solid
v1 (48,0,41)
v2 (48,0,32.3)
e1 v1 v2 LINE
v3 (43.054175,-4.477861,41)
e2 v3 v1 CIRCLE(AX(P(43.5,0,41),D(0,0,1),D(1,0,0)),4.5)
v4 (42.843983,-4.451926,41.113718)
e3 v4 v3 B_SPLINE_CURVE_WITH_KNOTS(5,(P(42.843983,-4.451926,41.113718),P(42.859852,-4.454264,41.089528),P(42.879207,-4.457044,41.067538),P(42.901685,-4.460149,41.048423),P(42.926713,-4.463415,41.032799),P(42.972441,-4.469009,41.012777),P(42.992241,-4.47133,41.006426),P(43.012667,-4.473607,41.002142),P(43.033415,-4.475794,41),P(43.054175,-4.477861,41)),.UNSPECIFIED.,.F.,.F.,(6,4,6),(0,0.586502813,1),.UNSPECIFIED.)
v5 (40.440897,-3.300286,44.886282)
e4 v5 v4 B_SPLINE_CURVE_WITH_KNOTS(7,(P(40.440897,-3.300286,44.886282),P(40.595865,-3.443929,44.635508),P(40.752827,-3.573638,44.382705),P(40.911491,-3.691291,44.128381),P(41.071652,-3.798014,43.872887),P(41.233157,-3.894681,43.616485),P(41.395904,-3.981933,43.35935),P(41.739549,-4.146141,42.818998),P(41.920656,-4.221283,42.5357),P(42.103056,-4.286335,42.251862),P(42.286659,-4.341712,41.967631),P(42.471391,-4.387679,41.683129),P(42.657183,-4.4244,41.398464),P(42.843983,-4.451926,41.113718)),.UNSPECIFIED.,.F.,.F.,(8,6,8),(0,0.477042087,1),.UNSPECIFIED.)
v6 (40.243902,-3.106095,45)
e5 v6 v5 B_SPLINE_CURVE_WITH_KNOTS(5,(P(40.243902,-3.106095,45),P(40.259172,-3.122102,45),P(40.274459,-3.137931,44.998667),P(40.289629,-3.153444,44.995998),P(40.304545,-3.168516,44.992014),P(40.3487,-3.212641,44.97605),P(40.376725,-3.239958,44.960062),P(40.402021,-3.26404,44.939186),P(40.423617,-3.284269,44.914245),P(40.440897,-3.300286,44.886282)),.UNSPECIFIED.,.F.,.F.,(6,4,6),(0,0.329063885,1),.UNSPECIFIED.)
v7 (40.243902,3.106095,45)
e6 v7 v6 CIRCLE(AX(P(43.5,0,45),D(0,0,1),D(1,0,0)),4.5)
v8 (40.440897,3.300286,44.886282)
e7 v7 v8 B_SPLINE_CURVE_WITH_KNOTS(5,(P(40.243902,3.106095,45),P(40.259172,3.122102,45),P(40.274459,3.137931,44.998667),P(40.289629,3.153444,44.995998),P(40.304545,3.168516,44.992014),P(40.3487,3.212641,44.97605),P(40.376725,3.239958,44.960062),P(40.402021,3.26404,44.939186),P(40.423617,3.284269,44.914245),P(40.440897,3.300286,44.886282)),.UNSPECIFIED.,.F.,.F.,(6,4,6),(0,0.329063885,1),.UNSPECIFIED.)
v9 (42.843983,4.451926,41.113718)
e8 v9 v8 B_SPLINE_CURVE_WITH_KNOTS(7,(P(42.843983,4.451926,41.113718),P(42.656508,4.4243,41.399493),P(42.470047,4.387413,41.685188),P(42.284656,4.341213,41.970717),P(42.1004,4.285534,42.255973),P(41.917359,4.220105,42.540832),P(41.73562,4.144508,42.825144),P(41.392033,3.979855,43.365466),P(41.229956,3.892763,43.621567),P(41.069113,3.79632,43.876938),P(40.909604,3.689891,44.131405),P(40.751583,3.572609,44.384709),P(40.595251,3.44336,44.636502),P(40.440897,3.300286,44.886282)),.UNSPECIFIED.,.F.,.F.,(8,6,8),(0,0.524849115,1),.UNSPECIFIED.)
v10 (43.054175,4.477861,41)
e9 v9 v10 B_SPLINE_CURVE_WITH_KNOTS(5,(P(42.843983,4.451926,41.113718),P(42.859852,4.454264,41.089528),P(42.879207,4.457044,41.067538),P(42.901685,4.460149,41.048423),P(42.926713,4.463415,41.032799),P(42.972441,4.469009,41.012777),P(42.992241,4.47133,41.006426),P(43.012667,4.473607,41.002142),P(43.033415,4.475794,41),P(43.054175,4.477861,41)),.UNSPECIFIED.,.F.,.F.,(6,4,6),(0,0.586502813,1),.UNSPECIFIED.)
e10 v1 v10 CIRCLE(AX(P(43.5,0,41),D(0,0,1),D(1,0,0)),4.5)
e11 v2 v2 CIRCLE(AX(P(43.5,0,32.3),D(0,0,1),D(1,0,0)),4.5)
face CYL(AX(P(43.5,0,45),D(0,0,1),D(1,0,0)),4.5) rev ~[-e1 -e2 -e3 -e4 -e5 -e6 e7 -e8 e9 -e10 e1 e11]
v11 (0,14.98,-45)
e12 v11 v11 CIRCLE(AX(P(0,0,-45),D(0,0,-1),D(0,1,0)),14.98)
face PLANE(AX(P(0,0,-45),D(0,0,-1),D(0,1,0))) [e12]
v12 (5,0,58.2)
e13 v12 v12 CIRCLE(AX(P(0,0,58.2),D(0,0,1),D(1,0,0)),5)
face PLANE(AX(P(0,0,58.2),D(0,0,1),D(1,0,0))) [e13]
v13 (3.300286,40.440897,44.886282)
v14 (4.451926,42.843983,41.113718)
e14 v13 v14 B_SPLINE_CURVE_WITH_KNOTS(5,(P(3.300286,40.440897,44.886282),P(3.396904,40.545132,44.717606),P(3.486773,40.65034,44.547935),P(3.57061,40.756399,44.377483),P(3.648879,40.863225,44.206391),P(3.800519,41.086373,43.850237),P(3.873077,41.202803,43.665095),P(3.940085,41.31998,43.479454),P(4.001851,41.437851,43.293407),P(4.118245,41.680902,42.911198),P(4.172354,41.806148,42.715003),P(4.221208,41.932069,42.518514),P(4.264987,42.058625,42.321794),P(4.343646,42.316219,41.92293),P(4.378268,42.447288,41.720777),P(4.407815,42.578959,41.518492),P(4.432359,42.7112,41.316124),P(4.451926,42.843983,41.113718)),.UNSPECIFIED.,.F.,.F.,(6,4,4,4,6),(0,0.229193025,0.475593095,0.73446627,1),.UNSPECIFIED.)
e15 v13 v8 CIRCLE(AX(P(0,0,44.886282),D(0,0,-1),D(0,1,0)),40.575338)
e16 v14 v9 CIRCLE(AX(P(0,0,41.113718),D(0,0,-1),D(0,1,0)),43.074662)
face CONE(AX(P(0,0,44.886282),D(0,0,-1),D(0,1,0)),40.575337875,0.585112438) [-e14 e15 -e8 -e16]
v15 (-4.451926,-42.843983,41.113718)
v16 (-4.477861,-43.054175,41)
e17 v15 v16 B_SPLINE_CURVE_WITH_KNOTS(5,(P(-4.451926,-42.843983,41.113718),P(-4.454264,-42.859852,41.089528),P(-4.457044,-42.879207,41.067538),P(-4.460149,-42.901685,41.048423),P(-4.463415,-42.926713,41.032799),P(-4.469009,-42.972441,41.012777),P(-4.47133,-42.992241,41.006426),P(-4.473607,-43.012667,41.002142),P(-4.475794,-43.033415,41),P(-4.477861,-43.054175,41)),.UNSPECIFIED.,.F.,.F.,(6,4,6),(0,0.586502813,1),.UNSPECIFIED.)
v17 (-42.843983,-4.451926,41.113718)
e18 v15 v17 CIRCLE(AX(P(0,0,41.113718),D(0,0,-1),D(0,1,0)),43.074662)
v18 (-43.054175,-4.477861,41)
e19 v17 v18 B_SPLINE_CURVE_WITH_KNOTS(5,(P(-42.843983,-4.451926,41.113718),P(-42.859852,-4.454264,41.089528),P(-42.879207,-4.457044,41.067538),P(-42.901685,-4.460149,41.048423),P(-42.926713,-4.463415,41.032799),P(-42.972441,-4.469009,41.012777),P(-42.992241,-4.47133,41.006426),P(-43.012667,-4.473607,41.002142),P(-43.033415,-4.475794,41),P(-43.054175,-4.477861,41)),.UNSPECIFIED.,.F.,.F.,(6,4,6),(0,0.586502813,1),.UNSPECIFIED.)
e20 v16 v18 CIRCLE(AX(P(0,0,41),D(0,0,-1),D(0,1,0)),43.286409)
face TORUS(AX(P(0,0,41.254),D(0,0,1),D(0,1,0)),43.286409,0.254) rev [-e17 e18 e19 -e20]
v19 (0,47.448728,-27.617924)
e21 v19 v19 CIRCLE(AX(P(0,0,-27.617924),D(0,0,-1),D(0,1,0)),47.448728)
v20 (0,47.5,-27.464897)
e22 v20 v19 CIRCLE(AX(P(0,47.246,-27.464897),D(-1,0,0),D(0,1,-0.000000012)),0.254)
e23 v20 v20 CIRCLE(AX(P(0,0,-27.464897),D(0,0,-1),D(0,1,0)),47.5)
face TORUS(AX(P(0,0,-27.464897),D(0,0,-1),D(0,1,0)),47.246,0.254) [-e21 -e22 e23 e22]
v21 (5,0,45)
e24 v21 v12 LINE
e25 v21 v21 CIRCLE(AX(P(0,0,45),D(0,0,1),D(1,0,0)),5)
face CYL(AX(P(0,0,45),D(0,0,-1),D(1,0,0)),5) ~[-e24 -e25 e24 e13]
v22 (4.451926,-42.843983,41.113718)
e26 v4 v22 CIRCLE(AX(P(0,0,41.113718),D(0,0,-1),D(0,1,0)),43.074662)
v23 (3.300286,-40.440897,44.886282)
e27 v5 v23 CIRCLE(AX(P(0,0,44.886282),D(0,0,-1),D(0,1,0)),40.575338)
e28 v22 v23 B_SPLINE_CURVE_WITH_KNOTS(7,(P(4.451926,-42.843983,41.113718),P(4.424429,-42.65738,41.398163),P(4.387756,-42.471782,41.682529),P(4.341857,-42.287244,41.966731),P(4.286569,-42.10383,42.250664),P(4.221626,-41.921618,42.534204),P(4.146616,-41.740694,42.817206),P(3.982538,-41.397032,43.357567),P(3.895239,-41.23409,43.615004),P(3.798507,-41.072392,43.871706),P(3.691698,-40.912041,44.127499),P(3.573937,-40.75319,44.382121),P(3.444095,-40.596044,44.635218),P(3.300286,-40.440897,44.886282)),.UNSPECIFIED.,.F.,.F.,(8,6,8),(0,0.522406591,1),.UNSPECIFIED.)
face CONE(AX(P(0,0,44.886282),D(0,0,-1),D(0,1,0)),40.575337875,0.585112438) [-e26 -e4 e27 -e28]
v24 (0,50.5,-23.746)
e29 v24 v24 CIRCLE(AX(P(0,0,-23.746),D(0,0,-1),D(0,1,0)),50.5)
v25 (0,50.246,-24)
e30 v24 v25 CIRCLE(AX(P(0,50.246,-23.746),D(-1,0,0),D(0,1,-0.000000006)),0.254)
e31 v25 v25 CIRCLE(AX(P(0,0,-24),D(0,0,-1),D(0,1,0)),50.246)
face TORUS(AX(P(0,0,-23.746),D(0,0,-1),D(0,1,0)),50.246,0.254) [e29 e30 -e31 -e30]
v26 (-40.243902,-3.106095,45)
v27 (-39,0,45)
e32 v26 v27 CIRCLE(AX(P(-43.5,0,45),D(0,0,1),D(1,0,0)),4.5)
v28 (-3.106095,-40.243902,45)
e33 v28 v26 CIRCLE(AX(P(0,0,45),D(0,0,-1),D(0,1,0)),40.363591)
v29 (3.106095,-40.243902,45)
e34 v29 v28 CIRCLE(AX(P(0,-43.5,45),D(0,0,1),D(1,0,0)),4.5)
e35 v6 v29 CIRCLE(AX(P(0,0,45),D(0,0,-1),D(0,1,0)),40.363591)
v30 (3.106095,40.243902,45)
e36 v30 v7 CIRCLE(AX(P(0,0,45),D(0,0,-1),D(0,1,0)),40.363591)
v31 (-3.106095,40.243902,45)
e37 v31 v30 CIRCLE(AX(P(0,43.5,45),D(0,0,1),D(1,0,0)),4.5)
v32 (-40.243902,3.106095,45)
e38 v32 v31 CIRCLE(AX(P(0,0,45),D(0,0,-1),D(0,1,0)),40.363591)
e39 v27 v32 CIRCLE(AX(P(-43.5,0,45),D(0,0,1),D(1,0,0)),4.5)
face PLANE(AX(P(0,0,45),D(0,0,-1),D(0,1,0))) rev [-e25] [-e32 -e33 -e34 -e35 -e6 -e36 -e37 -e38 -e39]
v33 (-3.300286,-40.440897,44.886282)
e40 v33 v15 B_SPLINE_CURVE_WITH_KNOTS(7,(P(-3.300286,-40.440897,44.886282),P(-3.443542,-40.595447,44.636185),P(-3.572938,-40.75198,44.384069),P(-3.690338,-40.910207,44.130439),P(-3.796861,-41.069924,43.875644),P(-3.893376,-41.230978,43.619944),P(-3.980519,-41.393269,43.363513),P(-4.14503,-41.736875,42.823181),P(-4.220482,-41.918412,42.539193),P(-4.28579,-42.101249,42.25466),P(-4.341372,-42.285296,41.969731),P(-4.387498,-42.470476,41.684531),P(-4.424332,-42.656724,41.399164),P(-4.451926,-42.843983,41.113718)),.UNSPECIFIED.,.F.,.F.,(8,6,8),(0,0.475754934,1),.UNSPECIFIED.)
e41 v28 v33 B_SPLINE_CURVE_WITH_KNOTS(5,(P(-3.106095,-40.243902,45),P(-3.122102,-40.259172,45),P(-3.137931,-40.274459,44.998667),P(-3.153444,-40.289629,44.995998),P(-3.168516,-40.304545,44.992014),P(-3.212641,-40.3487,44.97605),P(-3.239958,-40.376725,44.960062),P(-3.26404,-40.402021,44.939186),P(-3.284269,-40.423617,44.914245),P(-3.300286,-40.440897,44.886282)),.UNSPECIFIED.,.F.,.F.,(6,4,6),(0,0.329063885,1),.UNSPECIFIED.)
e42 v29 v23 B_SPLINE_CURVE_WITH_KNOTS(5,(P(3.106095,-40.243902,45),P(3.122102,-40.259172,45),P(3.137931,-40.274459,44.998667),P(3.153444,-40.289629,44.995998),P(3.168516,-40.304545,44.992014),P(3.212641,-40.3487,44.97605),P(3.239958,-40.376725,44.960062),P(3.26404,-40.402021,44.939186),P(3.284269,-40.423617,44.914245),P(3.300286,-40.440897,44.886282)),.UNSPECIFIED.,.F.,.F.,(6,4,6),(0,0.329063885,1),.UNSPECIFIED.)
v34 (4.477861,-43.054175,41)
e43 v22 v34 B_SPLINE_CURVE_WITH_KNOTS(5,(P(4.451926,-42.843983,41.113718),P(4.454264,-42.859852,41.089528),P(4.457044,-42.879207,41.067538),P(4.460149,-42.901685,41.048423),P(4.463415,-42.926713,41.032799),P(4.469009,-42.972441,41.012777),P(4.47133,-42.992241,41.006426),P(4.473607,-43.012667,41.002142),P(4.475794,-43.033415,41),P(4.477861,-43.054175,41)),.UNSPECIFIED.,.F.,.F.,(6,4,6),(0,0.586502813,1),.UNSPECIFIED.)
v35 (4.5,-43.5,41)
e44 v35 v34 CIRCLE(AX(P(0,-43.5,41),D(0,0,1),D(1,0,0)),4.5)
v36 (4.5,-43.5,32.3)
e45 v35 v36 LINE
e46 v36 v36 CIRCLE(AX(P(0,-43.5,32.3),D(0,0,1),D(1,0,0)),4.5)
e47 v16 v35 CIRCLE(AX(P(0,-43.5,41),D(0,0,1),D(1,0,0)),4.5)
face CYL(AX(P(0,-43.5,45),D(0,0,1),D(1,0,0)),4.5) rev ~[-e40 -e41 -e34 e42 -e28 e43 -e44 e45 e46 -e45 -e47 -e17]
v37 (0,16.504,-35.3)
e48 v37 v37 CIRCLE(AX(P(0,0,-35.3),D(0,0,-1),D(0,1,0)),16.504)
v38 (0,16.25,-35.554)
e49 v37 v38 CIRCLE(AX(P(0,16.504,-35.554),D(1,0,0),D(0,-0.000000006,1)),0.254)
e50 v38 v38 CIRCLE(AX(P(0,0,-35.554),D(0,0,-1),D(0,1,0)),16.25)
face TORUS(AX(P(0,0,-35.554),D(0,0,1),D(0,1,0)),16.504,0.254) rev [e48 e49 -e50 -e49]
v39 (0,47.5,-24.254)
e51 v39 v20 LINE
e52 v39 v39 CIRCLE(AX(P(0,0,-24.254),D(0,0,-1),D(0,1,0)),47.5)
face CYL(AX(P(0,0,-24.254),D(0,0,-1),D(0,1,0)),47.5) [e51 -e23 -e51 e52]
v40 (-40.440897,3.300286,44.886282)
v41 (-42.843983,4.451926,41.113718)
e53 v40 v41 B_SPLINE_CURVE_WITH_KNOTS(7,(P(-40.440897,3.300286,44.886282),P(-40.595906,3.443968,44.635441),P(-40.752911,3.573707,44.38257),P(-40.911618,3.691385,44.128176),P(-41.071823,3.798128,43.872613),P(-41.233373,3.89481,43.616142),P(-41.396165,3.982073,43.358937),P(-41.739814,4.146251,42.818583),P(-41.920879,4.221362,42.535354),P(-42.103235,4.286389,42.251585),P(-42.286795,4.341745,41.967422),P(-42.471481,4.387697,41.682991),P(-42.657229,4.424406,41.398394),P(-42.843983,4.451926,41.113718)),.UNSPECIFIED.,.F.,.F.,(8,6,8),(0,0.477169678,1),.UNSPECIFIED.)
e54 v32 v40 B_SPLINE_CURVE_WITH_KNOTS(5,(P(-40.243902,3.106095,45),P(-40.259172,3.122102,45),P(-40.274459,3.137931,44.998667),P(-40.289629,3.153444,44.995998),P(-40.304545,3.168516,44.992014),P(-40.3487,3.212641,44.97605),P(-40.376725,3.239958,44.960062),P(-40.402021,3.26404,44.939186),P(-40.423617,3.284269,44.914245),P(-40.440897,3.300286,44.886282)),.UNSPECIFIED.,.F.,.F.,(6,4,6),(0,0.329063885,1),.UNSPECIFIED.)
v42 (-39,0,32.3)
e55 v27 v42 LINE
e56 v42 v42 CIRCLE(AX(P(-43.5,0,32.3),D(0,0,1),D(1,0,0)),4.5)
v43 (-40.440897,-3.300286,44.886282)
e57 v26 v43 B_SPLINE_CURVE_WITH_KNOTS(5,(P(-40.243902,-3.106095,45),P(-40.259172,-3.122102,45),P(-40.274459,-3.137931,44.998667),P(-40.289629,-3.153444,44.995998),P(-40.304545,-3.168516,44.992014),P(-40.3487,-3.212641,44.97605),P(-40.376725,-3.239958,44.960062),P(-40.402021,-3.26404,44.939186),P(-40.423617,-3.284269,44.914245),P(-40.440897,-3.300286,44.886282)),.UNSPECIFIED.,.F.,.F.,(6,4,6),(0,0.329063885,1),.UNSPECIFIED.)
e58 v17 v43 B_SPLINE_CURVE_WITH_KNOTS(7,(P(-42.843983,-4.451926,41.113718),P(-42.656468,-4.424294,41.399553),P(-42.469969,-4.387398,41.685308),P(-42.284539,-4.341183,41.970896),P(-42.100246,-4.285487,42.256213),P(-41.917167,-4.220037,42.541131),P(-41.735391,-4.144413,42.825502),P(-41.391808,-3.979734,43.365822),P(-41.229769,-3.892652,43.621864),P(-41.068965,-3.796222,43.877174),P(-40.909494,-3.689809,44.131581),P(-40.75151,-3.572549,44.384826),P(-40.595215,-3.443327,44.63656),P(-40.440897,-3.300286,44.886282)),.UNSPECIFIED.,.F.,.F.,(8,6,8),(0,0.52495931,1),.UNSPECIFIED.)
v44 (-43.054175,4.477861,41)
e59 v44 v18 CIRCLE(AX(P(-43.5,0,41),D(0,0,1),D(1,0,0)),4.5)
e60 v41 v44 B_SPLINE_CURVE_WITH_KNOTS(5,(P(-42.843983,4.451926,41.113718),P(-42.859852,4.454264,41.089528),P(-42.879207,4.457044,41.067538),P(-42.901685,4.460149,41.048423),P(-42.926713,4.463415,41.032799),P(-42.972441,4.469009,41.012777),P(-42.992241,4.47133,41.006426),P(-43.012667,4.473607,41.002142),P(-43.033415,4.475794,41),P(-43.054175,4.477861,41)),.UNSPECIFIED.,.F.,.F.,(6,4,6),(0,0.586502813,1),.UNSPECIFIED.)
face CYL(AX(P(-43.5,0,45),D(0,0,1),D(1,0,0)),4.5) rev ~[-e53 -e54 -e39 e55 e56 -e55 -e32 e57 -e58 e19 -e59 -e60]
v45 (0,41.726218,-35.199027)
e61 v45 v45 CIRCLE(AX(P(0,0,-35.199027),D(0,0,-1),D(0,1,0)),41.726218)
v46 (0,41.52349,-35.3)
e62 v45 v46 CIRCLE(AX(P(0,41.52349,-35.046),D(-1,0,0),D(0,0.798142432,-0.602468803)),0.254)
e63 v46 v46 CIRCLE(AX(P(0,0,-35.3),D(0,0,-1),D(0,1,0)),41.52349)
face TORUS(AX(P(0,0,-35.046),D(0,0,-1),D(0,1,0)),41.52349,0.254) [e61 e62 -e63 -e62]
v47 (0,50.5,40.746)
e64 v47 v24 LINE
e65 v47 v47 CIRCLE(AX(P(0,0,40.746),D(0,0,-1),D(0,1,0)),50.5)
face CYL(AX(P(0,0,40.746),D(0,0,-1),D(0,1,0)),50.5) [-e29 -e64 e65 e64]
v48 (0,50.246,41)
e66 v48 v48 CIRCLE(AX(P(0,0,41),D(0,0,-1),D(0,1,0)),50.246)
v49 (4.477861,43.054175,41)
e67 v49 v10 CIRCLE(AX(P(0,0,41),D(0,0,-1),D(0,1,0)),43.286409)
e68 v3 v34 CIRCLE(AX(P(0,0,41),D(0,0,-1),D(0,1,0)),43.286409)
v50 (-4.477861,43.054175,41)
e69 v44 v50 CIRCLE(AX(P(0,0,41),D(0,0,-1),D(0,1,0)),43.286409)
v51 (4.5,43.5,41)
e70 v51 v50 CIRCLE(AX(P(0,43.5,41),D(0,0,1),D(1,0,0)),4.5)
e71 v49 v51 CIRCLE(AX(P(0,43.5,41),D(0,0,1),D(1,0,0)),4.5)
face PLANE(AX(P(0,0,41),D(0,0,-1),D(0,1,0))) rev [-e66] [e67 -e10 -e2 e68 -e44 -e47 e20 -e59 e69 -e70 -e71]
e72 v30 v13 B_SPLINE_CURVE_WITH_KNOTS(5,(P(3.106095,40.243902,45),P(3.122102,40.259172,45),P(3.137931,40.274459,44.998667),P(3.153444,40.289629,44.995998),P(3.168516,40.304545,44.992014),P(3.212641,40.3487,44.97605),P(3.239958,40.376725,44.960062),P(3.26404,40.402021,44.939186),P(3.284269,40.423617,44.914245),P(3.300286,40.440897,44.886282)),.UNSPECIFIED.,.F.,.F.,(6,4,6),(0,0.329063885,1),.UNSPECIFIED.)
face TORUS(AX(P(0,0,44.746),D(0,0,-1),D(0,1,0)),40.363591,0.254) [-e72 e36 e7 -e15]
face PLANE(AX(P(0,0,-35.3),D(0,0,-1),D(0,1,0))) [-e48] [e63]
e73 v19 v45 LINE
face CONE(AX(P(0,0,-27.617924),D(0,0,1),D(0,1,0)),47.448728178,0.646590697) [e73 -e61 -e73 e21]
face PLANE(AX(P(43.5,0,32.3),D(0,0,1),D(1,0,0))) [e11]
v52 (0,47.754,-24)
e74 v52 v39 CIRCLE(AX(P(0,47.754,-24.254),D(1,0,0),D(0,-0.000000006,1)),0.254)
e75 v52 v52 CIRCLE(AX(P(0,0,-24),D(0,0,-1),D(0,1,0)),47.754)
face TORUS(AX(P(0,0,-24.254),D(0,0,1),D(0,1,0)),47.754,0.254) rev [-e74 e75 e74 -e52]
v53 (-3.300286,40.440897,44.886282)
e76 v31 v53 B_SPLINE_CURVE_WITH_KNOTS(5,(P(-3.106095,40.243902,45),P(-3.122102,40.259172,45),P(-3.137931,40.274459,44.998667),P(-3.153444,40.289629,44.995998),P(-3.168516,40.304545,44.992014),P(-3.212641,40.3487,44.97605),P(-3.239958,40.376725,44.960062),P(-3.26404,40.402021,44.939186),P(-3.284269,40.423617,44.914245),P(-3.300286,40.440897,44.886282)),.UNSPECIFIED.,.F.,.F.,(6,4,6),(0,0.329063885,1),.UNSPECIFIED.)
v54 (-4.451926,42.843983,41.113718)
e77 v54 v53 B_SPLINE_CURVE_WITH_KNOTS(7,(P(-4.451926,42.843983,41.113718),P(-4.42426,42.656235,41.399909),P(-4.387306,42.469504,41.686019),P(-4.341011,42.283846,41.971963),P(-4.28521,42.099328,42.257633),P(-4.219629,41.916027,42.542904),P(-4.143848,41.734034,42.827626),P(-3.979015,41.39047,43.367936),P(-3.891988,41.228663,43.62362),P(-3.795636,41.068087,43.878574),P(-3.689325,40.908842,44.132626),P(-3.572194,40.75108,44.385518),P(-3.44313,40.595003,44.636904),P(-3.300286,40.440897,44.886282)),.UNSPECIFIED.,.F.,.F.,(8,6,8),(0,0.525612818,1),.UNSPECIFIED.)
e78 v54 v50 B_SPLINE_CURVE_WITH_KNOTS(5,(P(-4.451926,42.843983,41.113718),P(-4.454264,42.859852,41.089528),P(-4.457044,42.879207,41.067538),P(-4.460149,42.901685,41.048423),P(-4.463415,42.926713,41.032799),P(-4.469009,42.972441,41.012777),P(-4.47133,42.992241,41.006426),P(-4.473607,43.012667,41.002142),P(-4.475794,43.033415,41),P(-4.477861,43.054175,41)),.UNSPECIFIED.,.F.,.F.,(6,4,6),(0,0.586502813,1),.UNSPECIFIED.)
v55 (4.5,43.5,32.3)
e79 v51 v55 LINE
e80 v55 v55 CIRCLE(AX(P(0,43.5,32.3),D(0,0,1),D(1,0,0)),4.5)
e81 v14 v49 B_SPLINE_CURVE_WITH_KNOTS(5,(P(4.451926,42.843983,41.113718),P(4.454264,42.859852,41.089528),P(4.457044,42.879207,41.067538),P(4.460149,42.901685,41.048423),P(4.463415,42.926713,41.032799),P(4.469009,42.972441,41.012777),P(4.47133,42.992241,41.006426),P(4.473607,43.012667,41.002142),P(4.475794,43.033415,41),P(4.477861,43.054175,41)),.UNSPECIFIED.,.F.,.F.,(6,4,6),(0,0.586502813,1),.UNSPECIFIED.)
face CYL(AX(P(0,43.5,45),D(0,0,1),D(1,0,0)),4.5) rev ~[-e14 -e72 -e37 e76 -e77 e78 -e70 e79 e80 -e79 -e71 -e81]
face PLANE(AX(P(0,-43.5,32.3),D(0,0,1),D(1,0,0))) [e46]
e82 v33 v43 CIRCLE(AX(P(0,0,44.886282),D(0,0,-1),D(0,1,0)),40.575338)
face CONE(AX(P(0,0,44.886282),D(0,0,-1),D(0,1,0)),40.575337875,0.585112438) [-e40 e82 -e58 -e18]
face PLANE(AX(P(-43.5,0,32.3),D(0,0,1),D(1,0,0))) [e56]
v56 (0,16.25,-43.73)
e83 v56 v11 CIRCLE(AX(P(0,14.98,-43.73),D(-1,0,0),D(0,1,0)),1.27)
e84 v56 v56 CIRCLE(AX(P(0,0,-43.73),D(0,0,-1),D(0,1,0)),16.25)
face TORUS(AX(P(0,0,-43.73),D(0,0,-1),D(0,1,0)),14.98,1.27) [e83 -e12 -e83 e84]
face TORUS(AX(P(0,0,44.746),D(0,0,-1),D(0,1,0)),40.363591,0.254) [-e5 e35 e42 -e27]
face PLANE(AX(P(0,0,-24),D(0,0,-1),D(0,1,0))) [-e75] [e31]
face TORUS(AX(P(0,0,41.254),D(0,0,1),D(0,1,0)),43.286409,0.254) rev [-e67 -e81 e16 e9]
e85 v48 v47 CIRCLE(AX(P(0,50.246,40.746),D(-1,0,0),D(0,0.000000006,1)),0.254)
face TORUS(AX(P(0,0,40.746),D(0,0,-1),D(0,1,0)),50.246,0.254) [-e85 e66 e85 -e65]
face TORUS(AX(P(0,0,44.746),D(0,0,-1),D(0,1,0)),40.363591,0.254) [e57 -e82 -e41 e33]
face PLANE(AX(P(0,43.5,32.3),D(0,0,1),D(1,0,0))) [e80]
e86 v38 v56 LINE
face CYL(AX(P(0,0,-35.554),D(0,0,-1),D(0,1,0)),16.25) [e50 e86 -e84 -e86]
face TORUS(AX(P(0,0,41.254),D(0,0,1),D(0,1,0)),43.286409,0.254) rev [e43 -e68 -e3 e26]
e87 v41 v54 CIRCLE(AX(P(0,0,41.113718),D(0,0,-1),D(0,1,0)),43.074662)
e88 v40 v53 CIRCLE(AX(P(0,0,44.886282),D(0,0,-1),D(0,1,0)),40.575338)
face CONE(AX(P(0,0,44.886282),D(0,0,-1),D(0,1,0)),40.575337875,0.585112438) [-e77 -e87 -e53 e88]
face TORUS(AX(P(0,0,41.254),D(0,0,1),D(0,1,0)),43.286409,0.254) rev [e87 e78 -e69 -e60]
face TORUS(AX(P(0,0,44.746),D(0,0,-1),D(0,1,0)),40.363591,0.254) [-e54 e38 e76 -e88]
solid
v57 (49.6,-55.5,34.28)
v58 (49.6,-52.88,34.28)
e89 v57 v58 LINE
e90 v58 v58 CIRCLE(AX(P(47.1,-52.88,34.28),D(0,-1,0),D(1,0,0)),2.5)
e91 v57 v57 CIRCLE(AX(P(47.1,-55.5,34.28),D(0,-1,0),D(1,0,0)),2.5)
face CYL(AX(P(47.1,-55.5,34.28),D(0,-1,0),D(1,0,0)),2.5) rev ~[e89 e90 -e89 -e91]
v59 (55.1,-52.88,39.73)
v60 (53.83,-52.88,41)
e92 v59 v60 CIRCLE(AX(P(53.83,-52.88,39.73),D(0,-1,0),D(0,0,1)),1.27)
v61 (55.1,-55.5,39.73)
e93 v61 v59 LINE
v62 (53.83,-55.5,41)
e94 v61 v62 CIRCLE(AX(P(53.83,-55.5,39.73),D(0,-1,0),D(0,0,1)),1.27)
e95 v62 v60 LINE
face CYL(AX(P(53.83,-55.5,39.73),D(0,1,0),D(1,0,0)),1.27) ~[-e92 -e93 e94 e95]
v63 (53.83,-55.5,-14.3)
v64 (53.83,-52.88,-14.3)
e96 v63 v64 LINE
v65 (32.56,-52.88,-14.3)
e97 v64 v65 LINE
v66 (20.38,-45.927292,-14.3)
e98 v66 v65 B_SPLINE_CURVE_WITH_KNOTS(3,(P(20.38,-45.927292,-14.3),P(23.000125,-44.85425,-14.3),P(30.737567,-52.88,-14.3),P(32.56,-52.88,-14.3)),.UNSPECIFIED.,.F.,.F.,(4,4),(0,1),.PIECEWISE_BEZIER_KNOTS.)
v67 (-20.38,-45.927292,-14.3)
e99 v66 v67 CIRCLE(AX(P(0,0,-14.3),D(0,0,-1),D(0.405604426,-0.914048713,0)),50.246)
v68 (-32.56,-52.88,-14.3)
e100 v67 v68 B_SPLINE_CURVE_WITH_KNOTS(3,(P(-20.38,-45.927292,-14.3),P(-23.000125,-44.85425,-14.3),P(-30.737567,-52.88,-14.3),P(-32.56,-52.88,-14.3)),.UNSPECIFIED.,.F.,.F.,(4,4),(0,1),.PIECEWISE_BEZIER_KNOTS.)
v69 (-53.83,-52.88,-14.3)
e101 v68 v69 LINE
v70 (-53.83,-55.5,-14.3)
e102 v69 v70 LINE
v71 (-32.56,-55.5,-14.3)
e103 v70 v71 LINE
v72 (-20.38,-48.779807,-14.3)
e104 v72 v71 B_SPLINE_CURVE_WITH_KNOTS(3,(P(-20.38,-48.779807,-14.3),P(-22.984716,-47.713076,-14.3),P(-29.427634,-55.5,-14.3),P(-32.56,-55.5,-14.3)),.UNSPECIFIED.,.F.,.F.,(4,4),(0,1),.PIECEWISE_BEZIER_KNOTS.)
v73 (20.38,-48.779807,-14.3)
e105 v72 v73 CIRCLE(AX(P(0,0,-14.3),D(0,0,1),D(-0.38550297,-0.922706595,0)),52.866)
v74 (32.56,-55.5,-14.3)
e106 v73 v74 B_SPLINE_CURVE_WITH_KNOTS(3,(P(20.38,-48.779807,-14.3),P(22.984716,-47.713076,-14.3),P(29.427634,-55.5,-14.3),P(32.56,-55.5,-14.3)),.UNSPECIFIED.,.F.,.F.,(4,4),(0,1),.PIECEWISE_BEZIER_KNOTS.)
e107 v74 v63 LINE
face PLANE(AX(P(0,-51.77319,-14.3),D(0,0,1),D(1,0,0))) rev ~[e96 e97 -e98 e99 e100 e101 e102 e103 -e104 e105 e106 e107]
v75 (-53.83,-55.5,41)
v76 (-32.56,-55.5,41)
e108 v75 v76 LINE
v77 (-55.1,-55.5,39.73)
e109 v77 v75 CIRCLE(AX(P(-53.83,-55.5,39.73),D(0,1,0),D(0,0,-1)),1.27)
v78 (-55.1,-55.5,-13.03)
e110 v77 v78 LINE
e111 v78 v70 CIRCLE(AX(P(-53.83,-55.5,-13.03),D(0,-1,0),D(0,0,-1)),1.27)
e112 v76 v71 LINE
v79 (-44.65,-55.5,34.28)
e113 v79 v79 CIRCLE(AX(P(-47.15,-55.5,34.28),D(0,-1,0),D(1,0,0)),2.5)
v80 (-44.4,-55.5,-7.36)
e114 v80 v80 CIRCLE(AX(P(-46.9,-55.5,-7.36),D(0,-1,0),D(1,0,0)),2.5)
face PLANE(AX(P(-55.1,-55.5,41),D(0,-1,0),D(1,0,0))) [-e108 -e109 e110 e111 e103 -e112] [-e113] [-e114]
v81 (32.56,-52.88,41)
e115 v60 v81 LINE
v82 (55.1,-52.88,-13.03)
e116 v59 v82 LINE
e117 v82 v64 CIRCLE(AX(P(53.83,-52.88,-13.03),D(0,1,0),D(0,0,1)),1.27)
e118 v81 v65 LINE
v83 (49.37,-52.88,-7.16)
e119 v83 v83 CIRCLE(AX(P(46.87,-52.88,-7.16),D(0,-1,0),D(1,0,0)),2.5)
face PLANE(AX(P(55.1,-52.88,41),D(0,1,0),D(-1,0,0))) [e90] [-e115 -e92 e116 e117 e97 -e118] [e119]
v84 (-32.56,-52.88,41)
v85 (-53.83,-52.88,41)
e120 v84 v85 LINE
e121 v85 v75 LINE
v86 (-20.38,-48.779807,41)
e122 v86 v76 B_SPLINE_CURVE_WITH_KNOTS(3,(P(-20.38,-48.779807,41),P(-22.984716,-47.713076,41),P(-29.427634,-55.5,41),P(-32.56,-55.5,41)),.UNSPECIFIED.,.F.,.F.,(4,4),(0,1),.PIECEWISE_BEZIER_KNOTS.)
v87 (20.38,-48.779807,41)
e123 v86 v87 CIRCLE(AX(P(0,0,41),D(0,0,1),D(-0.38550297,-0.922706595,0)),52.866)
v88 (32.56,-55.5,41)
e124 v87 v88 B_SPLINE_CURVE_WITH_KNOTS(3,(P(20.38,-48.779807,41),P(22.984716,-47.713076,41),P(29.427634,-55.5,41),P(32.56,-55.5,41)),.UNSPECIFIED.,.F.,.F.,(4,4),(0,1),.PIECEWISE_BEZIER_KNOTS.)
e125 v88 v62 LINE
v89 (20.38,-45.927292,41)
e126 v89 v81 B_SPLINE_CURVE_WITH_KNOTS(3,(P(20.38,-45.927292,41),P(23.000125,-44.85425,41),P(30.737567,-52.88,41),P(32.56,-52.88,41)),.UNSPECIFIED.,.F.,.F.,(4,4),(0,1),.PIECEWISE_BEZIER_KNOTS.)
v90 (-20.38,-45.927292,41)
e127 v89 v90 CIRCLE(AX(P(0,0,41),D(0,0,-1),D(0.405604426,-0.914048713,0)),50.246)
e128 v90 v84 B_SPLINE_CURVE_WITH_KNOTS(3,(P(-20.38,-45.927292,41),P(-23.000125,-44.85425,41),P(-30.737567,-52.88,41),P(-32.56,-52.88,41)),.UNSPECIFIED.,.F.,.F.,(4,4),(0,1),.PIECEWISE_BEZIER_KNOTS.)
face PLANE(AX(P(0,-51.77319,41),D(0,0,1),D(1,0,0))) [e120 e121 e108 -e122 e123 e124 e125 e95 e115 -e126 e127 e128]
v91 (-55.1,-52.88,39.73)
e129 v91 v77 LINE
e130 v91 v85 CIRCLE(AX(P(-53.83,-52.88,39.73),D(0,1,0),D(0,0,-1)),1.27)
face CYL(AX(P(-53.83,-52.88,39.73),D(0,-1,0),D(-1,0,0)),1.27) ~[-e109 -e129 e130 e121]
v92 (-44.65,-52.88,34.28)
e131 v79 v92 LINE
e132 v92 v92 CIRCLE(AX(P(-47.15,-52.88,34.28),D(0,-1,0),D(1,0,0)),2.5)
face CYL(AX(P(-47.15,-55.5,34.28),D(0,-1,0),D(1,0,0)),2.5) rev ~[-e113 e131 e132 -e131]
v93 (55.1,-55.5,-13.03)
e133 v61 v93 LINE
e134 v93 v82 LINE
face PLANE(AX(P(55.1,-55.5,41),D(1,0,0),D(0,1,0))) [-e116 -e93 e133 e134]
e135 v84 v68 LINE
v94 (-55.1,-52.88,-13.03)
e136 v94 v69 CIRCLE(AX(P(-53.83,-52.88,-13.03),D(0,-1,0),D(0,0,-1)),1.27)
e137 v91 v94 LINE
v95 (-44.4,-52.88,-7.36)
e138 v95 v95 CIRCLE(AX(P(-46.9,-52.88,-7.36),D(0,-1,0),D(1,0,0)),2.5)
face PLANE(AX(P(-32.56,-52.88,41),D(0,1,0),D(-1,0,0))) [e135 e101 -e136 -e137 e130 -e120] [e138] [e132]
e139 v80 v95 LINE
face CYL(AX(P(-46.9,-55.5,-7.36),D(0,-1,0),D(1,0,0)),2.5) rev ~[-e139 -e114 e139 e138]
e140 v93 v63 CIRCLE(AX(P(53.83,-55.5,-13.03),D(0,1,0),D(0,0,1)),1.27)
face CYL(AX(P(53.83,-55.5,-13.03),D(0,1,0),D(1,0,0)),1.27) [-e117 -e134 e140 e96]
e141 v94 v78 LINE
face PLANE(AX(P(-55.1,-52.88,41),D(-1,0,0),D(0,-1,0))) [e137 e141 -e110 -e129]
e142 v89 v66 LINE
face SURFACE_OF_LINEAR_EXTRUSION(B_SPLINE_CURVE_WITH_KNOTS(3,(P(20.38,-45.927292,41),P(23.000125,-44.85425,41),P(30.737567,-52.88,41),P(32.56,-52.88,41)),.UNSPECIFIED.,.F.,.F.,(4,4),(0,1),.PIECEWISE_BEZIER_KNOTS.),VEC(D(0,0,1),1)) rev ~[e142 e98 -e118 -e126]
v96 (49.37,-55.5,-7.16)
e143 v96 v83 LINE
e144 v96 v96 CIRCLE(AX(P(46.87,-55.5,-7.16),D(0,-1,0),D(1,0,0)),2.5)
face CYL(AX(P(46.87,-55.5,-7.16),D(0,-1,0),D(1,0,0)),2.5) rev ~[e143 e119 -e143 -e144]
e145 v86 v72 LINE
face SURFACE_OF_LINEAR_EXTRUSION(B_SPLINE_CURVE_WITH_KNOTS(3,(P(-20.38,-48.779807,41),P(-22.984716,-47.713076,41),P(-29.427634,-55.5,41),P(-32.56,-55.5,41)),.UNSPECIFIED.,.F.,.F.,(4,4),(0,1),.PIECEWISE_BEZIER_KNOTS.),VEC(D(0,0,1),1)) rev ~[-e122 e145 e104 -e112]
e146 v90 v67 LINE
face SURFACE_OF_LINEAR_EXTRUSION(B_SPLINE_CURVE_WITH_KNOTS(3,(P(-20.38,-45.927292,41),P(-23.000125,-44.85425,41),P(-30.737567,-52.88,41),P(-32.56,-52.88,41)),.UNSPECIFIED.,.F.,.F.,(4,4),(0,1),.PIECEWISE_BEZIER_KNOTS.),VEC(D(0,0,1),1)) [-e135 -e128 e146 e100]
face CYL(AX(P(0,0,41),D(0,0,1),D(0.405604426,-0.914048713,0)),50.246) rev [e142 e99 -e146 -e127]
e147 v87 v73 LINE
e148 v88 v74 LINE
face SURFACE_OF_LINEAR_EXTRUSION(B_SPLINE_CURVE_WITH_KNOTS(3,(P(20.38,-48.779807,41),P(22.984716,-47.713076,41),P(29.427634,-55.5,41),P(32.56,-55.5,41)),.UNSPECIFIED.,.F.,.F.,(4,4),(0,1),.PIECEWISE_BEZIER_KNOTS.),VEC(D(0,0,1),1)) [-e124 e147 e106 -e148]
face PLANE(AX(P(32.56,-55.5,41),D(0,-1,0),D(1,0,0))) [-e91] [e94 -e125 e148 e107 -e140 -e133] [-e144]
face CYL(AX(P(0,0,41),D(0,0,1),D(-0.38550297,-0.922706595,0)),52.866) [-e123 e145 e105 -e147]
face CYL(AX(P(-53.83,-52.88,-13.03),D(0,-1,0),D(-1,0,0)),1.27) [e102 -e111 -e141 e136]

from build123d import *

# Parameters (mm, degrees)
SKETCH4_R           = 4.5
CUT_EXTRUDE1_DEPTH  = 12.7
SKETCH6_R           = 5.000000033
BOSS_EXTRUDE3_DEPTH = 13.2
BOSS_EXTRUDE6_DEPTH = 55.3
FILLET1_R           = 1.27
SKETCH9_R           = 2.5
CUT_EXTRUDE2_DEPTH  = 2.62
SKETCH10_R          = 2.5
CUT_EXTRUDE3_DEPTH  = 2.62


with BuildPart() as part:
    # Sketch3 → Revolve1 (revolve)
    with BuildSketch(Plane(origin=(0, 0, 0), x_dir=(0, 0, -1), z_dir=(1, 0, 0))):
        with BuildLine():
            Line((-45, 0), (-45, 40.363590777))
            ThreePointArc((-45, 40.363590777), (-44.969771918, 40.483766185), (-44.886282452, 40.575337875))
            Line((-44.886282452, 40.575337875), (-41.113717548, 43.074662125))
            ThreePointArc((-41.113717548, 43.074662125), (-41.030228082, 43.166233815), (-41, 43.286409223))
            Line((-41, 43.286409223), (-41, 50.246))
            ThreePointArc((-41, 50.246), (-40.925605122, 50.425605122), (-40.746, 50.5))
            Line((-40.746, 50.5), (23.746, 50.5))
            ThreePointArc((23.746, 50.5), (23.925605122, 50.425605122), (24, 50.246))
            Line((24, 50.246), (24, 47.754))
            ThreePointArc((24, 47.754), (24.074394878, 47.574394878), (24.254, 47.5))
            Line((24.254, 47.5), (27.464897133, 47.5))
            ThreePointArc((27.464897133, 47.5), (27.545591132, 47.486841189), (27.617924209, 47.448728178))
            Line((27.617924209, 47.448728178), (35.199027076, 41.726218272))
            ThreePointArc((35.199027076, 41.726218272), (35.273359712, 41.636731259), (35.3, 41.523490094))
            Line((35.3, 41.523490094), (35.3, 16.504))
            ThreePointArc((35.3, 16.504), (35.374394878, 16.324394878), (35.554, 16.25))
            Line((35.554, 16.25), (43.73, 16.25))
            ThreePointArc((43.73, 16.25), (44.628025612, 15.878025612), (45, 14.98))
            Line((45, 14.98), (45, 0))
            Line((45, 0), (-45, 0))
        make_face()
    revolve(axis=Axis((0, 0, 45), (0, 0, -1)))

    # Sketch4 → Cut-Extrude1 (cut)
    with BuildSketch(Plane.XY.offset(45)):
        with Locations((0, 43.5)):
            Circle(SKETCH4_R)
        with Locations((43.5, 0)):
            Circle(SKETCH4_R)
        with Locations((0, -43.5)):
            Circle(SKETCH4_R)
        with Locations((-43.5, 0)):
            Circle(SKETCH4_R)
    extrude(amount=-CUT_EXTRUDE1_DEPTH, mode=Mode.SUBTRACT)

    # Sketch6 → Boss-Extrude3 (add)
    with BuildSketch(Plane.XY.offset(45)):
        Circle(SKETCH6_R)
    extrude(amount=BOSS_EXTRUDE3_DEPTH)


with BuildPart() as body_2:
    # Sketch8 → Boss-Extrude6 (new body)
    with BuildSketch(Plane.XY.offset(41)):
        with BuildLine():
            Line((-55.1, -55.5), (-32.56, -55.5))
            add(Edge.make_bspline(
                [(-20.38, -48.779806847), (-22.984715863, -47.713075889), (-29.427633883, -55.5), (-32.56, -55.5)],
                knots=[0, 0, 0, 0, 1, 1, 1, 1], degree=3))
            ThreePointArc((-20.38, -48.779806847), (0, -52.866), (20.38, -48.779806847))
            add(Edge.make_bspline(
                [(20.38, -48.779806847), (22.984715863, -47.713075889), (29.427633883, -55.5), (32.56, -55.5)],
                knots=[0, 0, 0, 0, 1, 1, 1, 1], degree=3))
            Line((32.56, -55.5), (55.1, -55.5))
            Line((55.1, -55.5), (55.1, -52.88))
            Line((55.1, -52.88), (32.56, -52.88))
            add(Edge.make_bspline(
                [(20.38, -45.927291625), (23.000125007, -44.854250033), (30.737567395, -52.88), (32.56, -52.88)],
                knots=[0, 0, 0, 0, 1, 1, 1, 1], degree=3))
            ThreePointArc((20.38, -45.927291625), (0, -50.246), (-20.38, -45.927291625))
            add(Edge.make_bspline(
                [(-20.38, -45.927291625), (-23.000125007, -44.854250033), (-30.737567395, -52.88), (-32.56, -52.88)],
                knots=[0, 0, 0, 0, 1, 1, 1, 1], degree=3))
            Line((-32.56, -52.88), (-55.1, -52.88))
            Line((-55.1, -52.88), (-55.1, -55.5))
        make_face()
    extrude(amount=-BOSS_EXTRUDE6_DEPTH)

    # Fillet1
    fillet1_edges = [body_2.edges().sort_by_distance(p)[0] for p in [
        (-55.1, -54.19, -14.3),
        (55.1, -54.19, 41),
        (-55.1, -54.19, 41),
        (55.1, -54.19, -14.3),
    ]]
    fillet(fillet1_edges, radius=FILLET1_R)

    # Sketch9 → Cut-Extrude2 (cut)
    with BuildSketch(Plane.XZ.offset(55.5)):
        with Locations((47.099999904, 34.28)):
            Circle(SKETCH9_R)
        with Locations((46.87, -7.16)):
            Circle(SKETCH9_R)
    extrude(amount=-CUT_EXTRUDE2_DEPTH, mode=Mode.SUBTRACT)

    # Sketch10 → Cut-Extrude3 (cut)
    with BuildSketch(Plane.XZ.offset(55.5)):
        with Locations((-47.149999978, 34.279999978)):
            Circle(SKETCH10_R)
        with Locations((-46.9, -7.36)):
            Circle(SKETCH10_R)
    extrude(amount=-CUT_EXTRUDE3_DEPTH, mode=Mode.SUBTRACT)


solid = Compound([part.part, body_2.part])
